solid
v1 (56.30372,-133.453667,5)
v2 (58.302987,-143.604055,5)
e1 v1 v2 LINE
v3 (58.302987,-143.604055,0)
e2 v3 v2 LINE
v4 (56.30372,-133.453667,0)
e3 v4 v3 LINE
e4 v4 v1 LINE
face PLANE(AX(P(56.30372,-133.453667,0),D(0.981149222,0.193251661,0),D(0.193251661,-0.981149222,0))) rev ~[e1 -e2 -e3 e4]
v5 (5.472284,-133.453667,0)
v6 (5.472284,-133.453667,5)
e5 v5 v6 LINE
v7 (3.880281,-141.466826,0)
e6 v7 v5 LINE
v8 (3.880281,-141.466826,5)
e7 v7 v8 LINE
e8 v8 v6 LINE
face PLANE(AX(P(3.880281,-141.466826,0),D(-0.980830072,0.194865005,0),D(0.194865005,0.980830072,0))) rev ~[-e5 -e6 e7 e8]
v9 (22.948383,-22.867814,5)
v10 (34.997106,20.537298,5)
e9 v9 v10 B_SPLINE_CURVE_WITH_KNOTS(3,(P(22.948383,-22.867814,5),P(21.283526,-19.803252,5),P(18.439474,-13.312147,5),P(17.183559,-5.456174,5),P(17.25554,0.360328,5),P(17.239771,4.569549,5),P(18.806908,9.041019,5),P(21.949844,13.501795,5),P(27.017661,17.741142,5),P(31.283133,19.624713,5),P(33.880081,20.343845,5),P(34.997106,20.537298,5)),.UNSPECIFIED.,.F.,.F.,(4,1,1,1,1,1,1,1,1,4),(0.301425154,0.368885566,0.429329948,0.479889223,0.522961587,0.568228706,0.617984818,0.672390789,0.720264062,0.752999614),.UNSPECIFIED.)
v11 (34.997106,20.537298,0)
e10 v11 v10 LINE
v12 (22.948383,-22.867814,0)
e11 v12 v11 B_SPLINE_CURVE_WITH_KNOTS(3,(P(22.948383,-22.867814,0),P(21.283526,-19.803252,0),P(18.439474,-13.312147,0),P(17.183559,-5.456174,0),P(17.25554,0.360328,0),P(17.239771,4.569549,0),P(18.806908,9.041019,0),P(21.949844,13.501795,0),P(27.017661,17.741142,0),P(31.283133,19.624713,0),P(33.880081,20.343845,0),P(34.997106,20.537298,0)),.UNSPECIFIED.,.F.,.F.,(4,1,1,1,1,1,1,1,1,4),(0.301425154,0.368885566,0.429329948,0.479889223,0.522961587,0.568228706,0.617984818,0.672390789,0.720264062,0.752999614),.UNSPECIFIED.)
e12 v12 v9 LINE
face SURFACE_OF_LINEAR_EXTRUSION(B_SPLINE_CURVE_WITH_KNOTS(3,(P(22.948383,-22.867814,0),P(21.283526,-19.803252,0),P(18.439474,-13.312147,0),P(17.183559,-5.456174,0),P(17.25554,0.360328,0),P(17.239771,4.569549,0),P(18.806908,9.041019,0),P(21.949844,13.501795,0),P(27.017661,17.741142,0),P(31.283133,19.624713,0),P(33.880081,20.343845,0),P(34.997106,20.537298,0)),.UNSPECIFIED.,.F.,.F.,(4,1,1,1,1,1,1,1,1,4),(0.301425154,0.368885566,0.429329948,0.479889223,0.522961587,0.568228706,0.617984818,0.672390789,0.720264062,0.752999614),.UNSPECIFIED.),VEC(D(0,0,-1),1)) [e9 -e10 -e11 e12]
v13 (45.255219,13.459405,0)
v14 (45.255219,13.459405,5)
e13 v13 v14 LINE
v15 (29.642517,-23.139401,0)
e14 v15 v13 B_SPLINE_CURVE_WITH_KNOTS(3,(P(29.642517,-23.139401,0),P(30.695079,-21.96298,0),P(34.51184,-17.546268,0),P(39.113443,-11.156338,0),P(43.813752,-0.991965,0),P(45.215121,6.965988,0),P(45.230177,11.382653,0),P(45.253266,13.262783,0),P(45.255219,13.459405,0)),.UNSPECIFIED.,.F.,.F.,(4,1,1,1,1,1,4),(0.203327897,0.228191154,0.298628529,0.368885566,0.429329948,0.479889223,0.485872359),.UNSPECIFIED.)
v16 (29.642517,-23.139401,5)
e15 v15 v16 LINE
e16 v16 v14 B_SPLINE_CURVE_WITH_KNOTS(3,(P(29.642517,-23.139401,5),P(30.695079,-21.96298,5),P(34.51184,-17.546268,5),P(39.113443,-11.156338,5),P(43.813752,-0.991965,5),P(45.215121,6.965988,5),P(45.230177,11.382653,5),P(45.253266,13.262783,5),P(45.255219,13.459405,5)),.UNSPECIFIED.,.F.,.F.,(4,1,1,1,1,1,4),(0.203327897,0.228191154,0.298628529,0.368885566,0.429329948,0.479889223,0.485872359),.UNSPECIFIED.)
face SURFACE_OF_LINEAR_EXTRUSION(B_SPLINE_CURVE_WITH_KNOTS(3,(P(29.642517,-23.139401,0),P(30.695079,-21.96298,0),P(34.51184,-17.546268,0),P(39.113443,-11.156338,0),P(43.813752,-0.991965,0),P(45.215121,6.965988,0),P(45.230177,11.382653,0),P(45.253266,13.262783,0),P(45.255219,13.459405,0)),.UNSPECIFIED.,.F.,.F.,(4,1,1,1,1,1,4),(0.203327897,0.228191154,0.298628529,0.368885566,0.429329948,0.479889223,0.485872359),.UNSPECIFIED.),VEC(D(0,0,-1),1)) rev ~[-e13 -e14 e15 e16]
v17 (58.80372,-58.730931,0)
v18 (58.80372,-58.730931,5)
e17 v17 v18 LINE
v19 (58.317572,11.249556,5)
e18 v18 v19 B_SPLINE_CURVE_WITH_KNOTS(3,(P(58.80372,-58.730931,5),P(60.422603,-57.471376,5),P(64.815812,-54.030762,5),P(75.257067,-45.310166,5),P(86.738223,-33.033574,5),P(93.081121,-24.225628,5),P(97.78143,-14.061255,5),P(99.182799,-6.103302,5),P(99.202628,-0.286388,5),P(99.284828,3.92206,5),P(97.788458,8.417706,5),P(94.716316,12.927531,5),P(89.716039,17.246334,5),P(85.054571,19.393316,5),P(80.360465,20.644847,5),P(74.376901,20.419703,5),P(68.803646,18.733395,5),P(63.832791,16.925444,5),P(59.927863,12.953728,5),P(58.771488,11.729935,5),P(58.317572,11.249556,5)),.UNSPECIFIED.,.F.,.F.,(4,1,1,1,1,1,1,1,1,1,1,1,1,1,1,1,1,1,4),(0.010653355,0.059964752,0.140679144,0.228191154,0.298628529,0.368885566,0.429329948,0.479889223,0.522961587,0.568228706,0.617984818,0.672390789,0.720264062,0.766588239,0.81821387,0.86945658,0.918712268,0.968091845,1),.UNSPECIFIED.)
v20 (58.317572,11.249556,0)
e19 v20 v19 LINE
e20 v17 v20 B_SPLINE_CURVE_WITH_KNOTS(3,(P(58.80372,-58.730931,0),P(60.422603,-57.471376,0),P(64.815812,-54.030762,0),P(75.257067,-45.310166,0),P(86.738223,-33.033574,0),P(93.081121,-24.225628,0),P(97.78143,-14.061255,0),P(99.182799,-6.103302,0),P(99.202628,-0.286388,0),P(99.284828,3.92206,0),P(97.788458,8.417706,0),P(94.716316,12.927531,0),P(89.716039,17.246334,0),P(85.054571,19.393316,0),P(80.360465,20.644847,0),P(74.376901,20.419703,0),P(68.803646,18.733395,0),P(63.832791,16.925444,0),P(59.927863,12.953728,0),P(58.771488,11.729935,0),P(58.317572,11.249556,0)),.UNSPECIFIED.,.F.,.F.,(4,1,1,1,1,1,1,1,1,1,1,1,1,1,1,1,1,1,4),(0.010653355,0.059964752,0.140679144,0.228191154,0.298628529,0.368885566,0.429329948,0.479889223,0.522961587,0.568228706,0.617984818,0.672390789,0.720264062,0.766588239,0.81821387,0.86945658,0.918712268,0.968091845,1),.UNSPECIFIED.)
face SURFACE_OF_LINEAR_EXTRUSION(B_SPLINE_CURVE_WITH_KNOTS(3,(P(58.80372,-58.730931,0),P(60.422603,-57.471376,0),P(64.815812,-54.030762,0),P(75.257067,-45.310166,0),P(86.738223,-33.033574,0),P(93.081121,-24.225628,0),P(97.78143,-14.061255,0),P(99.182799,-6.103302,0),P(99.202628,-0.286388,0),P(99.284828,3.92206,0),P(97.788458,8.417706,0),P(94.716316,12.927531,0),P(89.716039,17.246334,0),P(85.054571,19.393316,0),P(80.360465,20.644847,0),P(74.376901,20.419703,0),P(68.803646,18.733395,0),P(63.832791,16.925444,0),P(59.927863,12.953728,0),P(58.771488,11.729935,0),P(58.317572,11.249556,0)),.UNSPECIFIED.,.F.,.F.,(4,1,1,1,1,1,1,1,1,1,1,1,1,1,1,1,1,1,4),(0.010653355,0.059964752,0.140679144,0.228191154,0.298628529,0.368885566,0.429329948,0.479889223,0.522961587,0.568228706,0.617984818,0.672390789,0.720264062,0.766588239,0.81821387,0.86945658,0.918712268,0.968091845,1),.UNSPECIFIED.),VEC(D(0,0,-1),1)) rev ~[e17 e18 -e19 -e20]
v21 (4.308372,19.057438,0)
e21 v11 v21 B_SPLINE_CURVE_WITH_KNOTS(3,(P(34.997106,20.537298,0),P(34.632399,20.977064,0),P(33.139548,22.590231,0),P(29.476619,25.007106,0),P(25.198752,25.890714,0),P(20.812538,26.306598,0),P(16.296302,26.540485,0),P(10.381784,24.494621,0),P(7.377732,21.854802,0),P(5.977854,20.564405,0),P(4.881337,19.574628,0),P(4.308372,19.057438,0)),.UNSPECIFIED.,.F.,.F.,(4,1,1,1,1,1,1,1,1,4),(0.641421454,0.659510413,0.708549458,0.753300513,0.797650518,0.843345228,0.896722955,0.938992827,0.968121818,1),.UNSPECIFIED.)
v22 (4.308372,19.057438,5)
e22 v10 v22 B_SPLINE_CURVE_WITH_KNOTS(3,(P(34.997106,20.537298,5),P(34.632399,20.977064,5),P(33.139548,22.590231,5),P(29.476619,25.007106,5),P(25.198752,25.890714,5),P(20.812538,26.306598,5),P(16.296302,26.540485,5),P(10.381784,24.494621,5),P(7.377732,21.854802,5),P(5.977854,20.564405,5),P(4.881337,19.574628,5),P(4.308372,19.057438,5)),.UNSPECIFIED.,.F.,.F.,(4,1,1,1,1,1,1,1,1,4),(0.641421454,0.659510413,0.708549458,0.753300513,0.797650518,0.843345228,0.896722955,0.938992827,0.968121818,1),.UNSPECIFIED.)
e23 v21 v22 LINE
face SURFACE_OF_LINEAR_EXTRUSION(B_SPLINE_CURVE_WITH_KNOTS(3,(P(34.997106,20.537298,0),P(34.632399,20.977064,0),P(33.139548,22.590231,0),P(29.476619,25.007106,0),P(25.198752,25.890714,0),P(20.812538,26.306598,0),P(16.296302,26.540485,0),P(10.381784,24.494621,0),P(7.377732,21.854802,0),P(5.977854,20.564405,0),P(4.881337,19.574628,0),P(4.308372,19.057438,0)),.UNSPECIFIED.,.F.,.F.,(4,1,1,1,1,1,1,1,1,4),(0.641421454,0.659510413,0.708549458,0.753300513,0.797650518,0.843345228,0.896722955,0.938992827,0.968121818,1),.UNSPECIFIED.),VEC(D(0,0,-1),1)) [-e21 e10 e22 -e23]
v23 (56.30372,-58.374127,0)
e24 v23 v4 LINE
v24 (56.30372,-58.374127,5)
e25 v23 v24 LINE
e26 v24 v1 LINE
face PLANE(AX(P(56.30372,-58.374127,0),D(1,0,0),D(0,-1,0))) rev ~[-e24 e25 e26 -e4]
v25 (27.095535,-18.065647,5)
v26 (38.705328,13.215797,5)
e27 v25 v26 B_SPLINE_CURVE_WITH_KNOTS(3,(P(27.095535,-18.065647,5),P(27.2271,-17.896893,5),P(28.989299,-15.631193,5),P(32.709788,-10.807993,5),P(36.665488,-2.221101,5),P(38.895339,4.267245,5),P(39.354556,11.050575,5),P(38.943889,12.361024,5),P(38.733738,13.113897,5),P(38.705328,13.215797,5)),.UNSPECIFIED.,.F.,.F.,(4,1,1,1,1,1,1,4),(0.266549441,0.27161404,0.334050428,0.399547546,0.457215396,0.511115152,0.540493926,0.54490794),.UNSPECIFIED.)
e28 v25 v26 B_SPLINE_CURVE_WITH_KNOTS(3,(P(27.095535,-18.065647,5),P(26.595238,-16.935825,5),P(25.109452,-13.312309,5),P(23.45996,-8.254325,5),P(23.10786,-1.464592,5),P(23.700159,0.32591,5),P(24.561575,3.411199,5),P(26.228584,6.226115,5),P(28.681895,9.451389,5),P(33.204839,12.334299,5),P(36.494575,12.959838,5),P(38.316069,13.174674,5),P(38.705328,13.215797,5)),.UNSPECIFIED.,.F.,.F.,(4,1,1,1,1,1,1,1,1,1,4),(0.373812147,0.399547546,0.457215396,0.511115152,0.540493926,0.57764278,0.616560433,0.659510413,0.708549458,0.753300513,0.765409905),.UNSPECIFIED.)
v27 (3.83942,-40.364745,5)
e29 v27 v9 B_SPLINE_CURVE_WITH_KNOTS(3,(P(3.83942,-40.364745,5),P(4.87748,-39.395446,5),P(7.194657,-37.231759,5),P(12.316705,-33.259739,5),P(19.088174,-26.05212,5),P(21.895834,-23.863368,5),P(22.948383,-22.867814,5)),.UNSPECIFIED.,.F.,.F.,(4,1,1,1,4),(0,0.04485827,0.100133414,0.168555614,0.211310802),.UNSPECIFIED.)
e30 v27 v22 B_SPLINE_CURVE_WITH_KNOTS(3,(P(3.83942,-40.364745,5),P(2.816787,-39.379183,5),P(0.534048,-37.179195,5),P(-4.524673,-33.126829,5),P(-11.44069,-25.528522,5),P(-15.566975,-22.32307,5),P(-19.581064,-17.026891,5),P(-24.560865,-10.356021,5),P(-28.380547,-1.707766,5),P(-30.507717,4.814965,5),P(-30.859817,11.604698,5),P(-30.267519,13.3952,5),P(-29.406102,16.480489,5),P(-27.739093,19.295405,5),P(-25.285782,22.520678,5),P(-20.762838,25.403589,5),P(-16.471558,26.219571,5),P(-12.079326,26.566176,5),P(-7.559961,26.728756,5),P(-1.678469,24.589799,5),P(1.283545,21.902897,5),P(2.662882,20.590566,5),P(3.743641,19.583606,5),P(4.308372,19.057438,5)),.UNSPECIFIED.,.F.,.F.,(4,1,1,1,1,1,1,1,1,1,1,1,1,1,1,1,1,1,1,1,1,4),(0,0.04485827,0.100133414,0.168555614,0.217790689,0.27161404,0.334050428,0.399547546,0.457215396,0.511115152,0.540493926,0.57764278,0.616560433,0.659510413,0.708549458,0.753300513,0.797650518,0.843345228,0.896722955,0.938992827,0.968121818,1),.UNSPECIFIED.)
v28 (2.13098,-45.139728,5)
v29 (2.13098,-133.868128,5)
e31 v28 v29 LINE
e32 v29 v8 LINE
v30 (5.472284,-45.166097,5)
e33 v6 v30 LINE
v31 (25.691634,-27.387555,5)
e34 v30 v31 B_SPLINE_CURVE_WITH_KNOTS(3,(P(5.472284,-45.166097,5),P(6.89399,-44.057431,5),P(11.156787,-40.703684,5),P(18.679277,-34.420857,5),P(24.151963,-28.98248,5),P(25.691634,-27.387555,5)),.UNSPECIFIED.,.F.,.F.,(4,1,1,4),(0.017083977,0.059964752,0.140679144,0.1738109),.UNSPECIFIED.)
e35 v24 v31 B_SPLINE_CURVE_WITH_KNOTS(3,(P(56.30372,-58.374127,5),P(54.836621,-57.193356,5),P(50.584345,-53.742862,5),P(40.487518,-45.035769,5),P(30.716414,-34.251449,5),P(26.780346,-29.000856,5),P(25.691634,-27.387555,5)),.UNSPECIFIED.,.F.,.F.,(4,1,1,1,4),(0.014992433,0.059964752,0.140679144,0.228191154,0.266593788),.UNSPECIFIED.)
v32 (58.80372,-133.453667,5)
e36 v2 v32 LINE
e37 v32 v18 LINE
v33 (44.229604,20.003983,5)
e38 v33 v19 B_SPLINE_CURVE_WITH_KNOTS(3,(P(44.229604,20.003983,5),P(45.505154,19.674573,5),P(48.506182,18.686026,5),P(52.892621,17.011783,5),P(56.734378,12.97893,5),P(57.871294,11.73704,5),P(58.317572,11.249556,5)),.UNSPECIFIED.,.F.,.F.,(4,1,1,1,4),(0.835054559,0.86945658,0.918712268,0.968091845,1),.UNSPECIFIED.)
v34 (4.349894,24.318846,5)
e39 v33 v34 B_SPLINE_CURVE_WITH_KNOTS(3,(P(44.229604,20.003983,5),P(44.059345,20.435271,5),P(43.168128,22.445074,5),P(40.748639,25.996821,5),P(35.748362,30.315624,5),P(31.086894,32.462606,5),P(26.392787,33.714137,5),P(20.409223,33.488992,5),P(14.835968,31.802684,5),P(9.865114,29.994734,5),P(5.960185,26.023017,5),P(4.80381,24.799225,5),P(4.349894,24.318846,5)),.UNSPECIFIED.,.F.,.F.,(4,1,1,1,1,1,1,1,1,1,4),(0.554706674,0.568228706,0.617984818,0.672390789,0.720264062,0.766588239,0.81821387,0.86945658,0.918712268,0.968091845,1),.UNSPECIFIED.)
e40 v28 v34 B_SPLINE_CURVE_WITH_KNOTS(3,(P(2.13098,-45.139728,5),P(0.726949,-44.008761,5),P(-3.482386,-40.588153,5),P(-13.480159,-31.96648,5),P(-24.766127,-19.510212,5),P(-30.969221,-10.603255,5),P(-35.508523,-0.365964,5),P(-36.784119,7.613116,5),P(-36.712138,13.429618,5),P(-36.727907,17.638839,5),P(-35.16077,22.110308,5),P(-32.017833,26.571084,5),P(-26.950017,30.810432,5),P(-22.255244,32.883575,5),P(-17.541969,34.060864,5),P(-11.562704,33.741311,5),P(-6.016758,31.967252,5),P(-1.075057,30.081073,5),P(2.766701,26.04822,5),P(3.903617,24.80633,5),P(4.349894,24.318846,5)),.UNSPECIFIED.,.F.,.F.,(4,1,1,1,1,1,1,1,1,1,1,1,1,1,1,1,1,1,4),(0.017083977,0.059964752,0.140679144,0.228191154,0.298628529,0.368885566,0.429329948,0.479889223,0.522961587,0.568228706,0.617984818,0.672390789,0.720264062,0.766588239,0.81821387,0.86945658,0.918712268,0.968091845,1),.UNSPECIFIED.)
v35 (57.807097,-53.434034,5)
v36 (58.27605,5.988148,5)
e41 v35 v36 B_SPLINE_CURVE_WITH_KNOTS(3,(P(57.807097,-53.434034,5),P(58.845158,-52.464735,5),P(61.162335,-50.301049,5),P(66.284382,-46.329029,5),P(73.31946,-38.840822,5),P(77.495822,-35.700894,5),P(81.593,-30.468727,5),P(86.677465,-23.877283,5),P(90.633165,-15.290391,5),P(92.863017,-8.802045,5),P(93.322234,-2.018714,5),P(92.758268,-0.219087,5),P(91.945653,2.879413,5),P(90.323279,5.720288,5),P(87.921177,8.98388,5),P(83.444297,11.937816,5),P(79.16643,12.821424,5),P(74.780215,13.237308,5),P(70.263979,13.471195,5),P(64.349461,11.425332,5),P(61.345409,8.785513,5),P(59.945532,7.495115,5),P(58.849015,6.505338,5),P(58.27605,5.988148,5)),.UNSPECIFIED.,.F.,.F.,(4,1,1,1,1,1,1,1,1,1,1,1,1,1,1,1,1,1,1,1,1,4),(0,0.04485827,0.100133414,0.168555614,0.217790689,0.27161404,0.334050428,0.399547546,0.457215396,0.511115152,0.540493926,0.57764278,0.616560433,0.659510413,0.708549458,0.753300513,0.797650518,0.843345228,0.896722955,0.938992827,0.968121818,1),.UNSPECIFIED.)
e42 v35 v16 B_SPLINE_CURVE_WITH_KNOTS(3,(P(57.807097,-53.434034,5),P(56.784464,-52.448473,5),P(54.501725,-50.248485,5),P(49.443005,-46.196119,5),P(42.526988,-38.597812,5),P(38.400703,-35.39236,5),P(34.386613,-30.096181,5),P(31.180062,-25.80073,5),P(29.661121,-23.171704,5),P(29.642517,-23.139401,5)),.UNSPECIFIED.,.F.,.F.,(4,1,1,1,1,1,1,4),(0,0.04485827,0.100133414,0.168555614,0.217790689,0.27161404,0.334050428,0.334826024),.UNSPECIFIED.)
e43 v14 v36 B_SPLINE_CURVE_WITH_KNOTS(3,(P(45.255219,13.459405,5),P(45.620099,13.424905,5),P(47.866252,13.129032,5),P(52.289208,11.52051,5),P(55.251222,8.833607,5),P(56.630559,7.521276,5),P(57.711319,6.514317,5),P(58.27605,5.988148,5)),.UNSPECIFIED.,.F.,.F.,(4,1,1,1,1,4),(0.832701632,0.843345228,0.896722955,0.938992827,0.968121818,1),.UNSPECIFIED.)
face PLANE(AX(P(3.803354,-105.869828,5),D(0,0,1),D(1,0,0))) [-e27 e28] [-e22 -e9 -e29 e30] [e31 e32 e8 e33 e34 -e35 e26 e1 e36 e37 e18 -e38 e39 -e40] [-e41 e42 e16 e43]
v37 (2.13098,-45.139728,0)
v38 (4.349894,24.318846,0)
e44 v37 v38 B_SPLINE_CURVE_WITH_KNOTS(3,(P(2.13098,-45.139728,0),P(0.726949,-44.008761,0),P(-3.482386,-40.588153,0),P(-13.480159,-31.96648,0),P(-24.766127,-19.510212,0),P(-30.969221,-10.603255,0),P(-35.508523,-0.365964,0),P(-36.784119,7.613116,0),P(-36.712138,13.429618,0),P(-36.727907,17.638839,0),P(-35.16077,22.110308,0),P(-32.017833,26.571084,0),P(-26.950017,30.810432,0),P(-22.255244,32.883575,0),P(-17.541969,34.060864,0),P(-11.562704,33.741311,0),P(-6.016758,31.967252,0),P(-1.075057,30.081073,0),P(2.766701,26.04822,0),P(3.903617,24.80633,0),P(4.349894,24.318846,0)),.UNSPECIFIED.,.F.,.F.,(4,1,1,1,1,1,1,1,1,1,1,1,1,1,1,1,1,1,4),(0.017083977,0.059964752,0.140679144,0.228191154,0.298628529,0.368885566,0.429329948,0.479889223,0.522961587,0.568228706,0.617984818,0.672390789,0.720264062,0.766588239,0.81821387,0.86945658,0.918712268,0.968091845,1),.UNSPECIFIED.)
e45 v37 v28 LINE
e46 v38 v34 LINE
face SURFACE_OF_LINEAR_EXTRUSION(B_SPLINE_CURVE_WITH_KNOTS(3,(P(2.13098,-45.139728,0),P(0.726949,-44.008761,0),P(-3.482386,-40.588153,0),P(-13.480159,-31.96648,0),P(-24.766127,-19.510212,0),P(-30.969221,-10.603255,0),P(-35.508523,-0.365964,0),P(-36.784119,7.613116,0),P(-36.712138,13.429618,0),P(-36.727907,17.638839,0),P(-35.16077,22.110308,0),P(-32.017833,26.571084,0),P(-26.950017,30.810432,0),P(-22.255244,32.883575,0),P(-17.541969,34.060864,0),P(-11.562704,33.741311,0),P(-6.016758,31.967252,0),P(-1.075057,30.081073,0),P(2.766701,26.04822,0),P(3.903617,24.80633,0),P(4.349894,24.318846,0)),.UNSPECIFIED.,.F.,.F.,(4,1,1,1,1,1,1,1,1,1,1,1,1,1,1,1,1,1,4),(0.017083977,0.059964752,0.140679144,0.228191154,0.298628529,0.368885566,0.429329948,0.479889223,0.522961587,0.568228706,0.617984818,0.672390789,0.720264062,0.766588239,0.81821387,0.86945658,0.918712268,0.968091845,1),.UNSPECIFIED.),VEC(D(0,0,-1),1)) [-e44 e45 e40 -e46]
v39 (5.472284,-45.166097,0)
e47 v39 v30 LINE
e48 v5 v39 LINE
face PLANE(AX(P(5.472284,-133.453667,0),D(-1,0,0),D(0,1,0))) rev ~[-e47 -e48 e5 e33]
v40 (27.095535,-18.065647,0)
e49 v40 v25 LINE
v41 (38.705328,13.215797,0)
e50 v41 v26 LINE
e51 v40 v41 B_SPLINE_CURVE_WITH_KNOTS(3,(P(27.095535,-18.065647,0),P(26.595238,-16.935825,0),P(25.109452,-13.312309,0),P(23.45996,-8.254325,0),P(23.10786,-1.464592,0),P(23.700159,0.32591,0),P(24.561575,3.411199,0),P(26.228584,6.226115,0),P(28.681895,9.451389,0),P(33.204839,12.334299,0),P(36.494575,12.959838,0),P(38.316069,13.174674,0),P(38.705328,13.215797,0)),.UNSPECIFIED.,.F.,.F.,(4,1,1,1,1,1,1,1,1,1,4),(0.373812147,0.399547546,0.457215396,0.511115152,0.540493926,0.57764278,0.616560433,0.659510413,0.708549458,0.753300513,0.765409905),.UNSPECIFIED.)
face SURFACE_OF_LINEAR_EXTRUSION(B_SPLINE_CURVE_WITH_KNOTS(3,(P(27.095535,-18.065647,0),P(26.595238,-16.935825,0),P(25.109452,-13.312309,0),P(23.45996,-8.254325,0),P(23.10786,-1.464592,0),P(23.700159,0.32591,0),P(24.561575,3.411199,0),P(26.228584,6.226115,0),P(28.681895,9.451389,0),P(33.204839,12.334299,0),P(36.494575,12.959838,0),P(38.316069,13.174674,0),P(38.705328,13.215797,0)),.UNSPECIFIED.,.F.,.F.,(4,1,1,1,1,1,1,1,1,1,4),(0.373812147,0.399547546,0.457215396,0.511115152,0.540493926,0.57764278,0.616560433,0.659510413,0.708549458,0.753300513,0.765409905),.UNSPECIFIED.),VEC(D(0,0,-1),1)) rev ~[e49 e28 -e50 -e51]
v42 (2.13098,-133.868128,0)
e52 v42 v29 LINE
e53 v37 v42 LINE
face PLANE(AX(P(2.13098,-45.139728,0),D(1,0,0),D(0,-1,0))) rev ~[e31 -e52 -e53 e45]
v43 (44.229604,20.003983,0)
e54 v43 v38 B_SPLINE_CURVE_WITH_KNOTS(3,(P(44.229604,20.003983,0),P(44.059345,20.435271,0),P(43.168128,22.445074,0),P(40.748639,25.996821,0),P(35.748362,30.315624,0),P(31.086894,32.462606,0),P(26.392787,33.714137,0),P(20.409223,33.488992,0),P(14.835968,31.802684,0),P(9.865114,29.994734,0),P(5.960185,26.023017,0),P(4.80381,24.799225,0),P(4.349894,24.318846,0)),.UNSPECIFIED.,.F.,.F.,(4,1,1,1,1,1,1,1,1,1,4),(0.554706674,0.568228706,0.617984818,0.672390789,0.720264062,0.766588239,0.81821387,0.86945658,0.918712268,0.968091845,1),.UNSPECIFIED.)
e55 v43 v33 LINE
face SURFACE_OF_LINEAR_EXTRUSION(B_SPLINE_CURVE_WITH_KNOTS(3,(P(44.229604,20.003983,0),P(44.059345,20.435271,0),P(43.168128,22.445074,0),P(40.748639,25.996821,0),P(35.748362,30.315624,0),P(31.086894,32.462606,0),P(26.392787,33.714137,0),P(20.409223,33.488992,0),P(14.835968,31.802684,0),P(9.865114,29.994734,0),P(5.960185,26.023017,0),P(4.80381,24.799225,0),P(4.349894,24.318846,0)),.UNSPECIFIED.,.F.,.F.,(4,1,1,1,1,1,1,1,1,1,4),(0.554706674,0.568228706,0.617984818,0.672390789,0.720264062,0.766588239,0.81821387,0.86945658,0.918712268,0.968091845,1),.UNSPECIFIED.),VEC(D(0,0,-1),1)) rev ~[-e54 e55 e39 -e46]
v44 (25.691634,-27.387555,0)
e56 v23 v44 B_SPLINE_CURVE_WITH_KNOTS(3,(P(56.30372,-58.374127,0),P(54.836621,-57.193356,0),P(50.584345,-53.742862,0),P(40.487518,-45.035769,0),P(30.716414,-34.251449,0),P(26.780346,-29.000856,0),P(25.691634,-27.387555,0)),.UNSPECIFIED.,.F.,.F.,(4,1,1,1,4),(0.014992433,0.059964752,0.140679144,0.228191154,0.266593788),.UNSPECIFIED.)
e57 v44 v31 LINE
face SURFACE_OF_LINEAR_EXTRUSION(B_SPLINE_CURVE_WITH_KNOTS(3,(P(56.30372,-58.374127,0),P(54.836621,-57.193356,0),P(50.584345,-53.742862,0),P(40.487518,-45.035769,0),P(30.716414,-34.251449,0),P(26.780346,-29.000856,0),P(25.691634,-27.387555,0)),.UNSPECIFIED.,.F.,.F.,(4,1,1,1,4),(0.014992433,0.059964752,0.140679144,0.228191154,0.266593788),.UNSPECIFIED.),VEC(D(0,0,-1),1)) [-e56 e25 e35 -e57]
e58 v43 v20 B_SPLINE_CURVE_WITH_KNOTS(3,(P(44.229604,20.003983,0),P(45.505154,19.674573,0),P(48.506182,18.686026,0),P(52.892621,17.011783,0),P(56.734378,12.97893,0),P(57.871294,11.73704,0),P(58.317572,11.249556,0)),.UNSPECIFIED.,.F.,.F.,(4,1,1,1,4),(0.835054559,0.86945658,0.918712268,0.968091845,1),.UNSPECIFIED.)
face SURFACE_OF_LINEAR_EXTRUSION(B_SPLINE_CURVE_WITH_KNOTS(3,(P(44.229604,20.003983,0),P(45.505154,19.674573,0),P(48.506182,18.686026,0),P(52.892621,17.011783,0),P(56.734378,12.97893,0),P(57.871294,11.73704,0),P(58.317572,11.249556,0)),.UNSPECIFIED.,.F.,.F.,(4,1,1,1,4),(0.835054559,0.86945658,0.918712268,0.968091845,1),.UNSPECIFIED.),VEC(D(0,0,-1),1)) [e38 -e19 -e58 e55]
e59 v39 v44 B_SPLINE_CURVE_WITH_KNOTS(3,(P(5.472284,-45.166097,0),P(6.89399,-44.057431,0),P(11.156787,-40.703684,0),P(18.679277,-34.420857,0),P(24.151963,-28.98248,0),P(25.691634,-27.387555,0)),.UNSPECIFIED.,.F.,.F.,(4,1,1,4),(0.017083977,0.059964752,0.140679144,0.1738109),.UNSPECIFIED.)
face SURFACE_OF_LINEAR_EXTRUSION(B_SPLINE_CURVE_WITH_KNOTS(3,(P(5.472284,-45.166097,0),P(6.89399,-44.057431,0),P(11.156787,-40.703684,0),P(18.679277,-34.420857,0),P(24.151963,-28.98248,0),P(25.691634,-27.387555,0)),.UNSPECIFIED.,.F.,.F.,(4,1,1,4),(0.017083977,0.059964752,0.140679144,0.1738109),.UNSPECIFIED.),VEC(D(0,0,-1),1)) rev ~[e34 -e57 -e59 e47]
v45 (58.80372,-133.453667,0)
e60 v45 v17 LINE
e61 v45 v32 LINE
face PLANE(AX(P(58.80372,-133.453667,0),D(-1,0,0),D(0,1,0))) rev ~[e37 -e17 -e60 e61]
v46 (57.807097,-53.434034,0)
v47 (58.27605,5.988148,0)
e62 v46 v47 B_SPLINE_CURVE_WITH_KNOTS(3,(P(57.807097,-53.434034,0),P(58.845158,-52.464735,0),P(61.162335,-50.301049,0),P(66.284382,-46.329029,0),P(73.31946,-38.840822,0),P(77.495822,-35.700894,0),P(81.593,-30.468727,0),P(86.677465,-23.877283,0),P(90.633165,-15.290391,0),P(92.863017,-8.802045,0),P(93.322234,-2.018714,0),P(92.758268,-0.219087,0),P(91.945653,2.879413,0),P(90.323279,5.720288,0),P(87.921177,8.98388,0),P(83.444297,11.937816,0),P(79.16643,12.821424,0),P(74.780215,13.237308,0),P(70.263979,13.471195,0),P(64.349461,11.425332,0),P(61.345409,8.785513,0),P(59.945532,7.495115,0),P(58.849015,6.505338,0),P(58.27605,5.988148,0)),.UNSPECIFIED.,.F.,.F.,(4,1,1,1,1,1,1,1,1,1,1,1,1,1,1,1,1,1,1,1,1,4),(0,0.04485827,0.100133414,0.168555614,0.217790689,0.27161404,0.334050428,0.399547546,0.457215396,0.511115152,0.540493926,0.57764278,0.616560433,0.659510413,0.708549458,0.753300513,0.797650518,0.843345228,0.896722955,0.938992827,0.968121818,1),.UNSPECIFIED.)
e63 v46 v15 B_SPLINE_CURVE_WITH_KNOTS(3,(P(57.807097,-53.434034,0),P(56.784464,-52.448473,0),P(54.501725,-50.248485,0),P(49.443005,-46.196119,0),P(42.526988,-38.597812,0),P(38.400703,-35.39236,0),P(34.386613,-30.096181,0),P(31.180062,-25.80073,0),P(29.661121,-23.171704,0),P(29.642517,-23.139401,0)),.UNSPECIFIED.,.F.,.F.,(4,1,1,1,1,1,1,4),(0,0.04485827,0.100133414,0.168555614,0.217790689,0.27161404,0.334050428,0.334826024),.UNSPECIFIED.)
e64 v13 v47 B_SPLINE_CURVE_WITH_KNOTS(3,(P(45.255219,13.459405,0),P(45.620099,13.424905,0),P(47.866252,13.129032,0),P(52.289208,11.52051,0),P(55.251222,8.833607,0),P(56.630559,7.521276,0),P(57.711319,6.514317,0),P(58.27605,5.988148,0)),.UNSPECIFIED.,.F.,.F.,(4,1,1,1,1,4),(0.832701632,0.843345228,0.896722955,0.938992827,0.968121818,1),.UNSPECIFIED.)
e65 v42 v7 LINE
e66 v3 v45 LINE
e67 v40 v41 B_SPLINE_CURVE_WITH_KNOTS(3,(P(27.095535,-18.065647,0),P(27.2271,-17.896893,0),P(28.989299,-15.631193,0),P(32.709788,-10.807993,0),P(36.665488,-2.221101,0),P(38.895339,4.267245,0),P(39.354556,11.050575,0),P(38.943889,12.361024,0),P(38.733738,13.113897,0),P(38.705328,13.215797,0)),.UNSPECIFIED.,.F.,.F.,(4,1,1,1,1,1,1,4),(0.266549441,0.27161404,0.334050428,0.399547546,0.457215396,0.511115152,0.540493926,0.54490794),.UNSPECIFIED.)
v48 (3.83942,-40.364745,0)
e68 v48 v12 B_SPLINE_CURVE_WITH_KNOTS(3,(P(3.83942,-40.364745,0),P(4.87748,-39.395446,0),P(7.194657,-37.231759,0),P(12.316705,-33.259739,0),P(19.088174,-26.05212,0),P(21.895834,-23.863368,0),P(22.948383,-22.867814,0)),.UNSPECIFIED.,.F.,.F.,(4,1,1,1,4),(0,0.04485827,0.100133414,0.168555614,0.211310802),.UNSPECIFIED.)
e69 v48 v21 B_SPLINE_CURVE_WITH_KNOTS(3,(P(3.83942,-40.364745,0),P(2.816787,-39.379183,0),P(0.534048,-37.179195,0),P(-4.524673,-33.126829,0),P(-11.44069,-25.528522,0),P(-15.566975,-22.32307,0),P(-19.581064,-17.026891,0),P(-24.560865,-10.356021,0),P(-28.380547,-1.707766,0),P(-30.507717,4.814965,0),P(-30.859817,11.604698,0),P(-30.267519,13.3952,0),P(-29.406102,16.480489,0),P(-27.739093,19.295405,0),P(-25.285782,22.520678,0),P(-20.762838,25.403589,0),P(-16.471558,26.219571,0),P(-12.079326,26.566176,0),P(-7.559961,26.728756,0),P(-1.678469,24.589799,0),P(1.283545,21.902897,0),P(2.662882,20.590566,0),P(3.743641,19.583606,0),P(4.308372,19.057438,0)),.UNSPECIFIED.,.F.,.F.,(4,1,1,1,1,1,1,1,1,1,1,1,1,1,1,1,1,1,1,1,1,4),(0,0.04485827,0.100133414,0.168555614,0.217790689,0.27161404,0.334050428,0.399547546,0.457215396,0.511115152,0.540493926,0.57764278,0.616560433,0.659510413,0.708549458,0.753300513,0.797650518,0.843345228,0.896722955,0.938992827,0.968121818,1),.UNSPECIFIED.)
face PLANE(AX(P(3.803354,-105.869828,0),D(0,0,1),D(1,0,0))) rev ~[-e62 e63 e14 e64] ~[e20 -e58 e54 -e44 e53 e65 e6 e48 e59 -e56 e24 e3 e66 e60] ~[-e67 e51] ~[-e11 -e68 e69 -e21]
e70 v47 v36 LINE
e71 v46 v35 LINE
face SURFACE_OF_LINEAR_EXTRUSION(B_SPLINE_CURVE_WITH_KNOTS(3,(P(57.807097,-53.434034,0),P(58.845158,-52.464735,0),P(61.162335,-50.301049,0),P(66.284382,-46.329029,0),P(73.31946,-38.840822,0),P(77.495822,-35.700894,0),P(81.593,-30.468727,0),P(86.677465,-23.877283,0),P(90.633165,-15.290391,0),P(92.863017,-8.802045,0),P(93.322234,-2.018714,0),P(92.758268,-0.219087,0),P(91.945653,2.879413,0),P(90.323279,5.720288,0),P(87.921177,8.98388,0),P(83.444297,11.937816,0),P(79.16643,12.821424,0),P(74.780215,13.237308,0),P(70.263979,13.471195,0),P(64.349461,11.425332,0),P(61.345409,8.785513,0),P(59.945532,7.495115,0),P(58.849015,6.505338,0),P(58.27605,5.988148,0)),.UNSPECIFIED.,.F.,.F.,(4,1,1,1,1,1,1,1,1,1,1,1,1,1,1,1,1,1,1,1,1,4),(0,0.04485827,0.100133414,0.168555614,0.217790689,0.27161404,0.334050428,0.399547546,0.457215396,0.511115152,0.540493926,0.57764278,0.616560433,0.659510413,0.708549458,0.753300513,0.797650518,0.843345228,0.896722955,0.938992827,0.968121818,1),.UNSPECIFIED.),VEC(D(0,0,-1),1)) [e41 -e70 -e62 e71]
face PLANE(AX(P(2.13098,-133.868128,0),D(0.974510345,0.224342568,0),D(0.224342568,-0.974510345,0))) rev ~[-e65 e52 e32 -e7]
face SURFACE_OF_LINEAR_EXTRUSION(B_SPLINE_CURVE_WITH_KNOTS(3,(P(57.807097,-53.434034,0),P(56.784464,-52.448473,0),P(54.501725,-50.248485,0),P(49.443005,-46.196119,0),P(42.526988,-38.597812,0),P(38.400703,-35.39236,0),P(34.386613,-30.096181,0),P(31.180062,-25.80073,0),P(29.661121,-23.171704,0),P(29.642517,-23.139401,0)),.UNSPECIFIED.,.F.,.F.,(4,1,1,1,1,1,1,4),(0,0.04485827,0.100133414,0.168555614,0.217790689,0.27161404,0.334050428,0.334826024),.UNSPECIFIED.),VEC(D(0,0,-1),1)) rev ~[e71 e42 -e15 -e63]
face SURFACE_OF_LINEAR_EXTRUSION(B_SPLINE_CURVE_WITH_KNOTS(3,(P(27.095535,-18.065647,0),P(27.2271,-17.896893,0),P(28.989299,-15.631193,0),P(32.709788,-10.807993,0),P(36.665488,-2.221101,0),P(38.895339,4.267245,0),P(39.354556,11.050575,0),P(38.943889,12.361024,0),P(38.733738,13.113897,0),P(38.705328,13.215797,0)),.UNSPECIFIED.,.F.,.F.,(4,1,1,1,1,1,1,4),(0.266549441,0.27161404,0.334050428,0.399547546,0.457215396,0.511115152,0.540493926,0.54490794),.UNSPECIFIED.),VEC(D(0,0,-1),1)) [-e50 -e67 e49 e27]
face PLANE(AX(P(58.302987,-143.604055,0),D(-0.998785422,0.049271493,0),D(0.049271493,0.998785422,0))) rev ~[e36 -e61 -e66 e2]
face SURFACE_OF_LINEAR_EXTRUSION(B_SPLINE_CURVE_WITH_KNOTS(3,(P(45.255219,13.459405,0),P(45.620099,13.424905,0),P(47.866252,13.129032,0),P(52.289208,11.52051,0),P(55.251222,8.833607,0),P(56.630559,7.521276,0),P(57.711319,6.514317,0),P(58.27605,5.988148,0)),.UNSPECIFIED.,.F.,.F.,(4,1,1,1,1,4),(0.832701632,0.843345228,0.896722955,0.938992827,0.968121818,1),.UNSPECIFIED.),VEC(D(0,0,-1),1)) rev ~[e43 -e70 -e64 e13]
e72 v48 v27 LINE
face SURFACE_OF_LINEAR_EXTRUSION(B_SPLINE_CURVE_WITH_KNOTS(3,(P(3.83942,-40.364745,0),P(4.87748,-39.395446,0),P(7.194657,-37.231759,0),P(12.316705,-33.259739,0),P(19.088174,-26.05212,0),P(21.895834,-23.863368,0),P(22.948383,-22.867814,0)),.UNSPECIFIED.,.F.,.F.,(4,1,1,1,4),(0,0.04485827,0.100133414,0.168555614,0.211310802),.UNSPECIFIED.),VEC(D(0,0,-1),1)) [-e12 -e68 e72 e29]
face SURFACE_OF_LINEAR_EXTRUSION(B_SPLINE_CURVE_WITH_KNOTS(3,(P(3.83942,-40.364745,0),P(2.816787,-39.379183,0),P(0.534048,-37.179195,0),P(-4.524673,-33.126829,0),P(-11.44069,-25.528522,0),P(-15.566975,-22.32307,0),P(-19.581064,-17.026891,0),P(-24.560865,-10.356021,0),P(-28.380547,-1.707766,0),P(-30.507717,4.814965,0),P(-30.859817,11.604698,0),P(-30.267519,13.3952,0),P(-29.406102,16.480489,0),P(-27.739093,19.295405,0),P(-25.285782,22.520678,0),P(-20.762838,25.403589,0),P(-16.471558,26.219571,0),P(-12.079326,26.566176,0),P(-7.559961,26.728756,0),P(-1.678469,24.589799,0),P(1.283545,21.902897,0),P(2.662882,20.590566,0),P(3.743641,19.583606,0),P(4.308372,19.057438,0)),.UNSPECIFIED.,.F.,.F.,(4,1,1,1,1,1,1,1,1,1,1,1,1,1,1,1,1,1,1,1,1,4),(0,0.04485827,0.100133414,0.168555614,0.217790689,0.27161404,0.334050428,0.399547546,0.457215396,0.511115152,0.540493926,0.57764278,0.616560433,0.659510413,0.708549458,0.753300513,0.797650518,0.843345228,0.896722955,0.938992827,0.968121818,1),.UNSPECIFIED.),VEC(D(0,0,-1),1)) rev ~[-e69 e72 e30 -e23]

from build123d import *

# Parameters (mm, degrees)
F1_DEPTH = 5


with BuildPart() as f1:
    # F0 (on Top) → F1 (new body)
    with BuildSketch(Plane.XY):
        Polygon((5.4722838547, -71.7465581899), (2.1309804769, -71.7465581899), (2.1309804769, -133.8681280613), (3.8802810013, -141.4668262005), (5.4722838547, -133.4536671638), align=None)
        Polygon((58.8037203075, -133.4536671638), (58.8037203075, -71.7465581899), (56.3037203075, -71.7465581899), (56.3037203075, -133.4536671638), (58.3029873669, -143.604055047), align=None)
        with BuildLine():
            Line((58.8037203075, -71.7465581899), (58.8037203075, -58.730931346))
            add(Edge.make_bspline(
                [(57.7588856984, -59.5430574281), (58.1064293653, -59.2730531087), (58.4539730323, -59.0030487893), (58.8037203075, -58.730931346)],
                knots=[0, 0, 0, 0, 0.0106533547, 0.0106533547, 0.0106533547, 0.0106533547], degree=3))
            add(Edge.make_bspline(
                [(57.7588856984, -59.5430574281), (57.2758465758, -59.1554092192), (56.7928074532, -58.7677610103), (56.3037203075, -58.3741270511)],
                knots=[0, 0, 0, 0, 0.0149924327, 0.0149924327, 0.0149924327, 0.0149924327], degree=3))
            Line((56.3037203075, -58.3741270511), (56.3037203075, -71.7465581899))
            Line((56.3037203075, -71.7465581899), (58.8037203075, -71.7465581899))
        make_face()
        with BuildLine():
            add(Edge.make_bspline(
                [(3.7912081461, -46.4737676084), (3.2407818512, -46.0320398945), (2.6903555563, -45.5903121806), (2.1309804769, -45.1397278225)],
                knots=[0, 0, 0, 0, 0.0170839769, 0.0170839769, 0.0170839769, 0.0170839769], degree=3))
            Line((2.1309804769, -45.1397278225), (2.1309804769, -71.7465581899))
            Line((2.1309804769, -71.7465581899), (5.4722838547, -71.7465581899))
            Line((5.4722838547, -71.7465581899), (5.4722838547, -45.1660969594))
            add(Edge.make_bspline(
                [(3.7912081461, -46.4737676084), (4.3485375649, -46.0407821602), (4.9058669837, -45.6077967121), (5.4722838547, -45.1660969594)],
                knots=[0, 0, 0, 0, 0.0170839769, 0.0170839769, 0.0170839769, 0.0170839769], degree=3))
        make_face()
        with BuildLine():
            add(Edge.make_bspline(
                [(44.2296044758, 20.0039827247), (45.5051535197, 19.6745725826), (48.5061823296, 18.6860255935), (52.8926205844, 17.0117827629), (56.7343780798, 12.9789301434), (57.8712942589, 11.7370396886), (58.3175719082, 11.249556123)],
                knots=[0.835054559, 0.835054559, 0.835054559, 0.835054559, 0.8694565801, 0.9187122678, 0.9680918447, 1, 1, 1, 1], degree=3))
            add(Edge.make_bspline(
                [(45.2552187391, 13.459405063), (45.2673218368, 14.6782574348), (45.2547817637, 16.7743630859), (44.6293153805, 18.9914669168), (44.2296044745, 20.0039827228)],
                knots=[0.4858723592, 0.4858723592, 0.4858723592, 0.4858723592, 0.5229615868, 0.5547066737, 0.5547066737, 0.5547066737, 0.5547066737], degree=3))
            add(Edge.make_bspline(
                [(45.2552187391, 13.459405063), (45.620098505, 13.4249051224), (47.8662521396, 13.1290317491), (52.2892081757, 11.5205095433), (55.2512222937, 8.8336070843), (56.6305591779, 7.521276306), (57.7113185317, 6.5143165351), (58.2760495524, 5.9881481358)],
                knots=[0.8327016325, 0.8327016325, 0.8327016325, 0.8327016325, 0.8433452284, 0.8967229546, 0.9389928273, 0.9681218184, 1, 1, 1, 1], degree=3))
            add(Edge.make_bspline(
                [(57.8070973225, -53.4340344875), (58.8451578136, -52.464735458), (61.1623345824, -50.3010492254), (66.2843821397, -46.3290287789), (73.3194602398, -38.840822382), (77.4958223004, -35.7008938885), (81.5929997715, -30.4687274942), (86.6774653327, -23.8772830801), (90.6331651451, -15.2903911208), (92.8630169678, -8.8020450937), (93.322233698, -2.0187144773), (92.7582682041, -0.2190872319), (91.9456530656, 2.8794129951), (90.3232788716, 5.7202880791), (87.9211773972, 8.9838798508), (83.4442969102, 11.9378160574), (79.1664297235, 12.8214240598), (74.7802152738, 13.2373078778), (70.2639793047, 13.4711954881), (64.3494611676, 11.4253315764), (61.345409248, 8.7855125439), (59.9455319661, 7.4951149667), (58.8490146223, 6.5053379837), (58.2760495524, 5.9881481358)],
                knots=[0, 0, 0, 0, 0.04485827, 0.1001334143, 0.1685556142, 0.2177906886, 0.2716140402, 0.334050428, 0.3995475458, 0.4572153958, 0.5111151521, 0.5404939261, 0.5776427802, 0.616560433, 0.6595104131, 0.7085494581, 0.7533005133, 0.7976505181, 0.8433452284, 0.8967229546, 0.9389928273, 0.9681218184, 1, 1, 1, 1], degree=3))
            add(Edge.make_bspline(
                [(57.8070973225, -53.4340344875), (56.7844643415, -52.4484727299), (54.5017251304, -50.2484845515), (49.4430049979, -46.1961187945), (42.5269877203, -38.5978121455), (38.4007025866, -35.3923602271), (34.3866134682, -30.0961807592), (31.1800621564, -25.8007304749), (29.6611214635, -23.1717035057), (29.6425165985, -23.1394005666)],
                knots=[0, 0, 0, 0, 0.04485827, 0.1001334143, 0.1685556142, 0.2177906886, 0.2716140402, 0.334050428, 0.3348260239, 0.3348260239, 0.3348260239, 0.3348260239], degree=3))
            add(Edge.make_bspline(
                [(25.6916337465, -27.3875553909), (27.0633223993, -25.9666412968), (28.3929430611, -24.5360156378), (29.6425165985, -23.1394005666)],
                knots=[0.1738108998, 0.1738108998, 0.1738108998, 0.1738108998, 0.203327897, 0.203327897, 0.203327897, 0.203327897], degree=3))
            add(Edge.make_bspline(
                [(56.3037203075, -58.3741270511), (54.836621305, -57.1933559067), (50.5843447149, -53.7428621448), (40.4875181362, -45.0357694348), (30.7164141669, -34.2514491013), (26.7803458552, -29.000856134), (25.6916337465, -27.3875553909)],
                knots=[0.0149924327, 0.0149924327, 0.0149924327, 0.0149924327, 0.0599647517, 0.1406791438, 0.2281911542, 0.2665937884, 0.2665937884, 0.2665937884, 0.2665937884], degree=3))
            add(Edge.make_bspline(
                [(57.7588856984, -59.5430574281), (57.2758465758, -59.1554092192), (56.7928074532, -58.7677610103), (56.3037203075, -58.3741270511)],
                knots=[0, 0, 0, 0, 0.0149924327, 0.0149924327, 0.0149924327, 0.0149924327], degree=3))
            add(Edge.make_bspline(
                [(57.7588856984, -59.5430574281), (58.1064293653, -59.2730531087), (58.4539730323, -59.0030487893), (58.8037203075, -58.730931346)],
                knots=[0, 0, 0, 0, 0.0106533547, 0.0106533547, 0.0106533547, 0.0106533547], degree=3))
            add(Edge.make_bspline(
                [(58.8037203075, -58.730931346), (60.4226025517, -57.4713758651), (64.8158115439, -54.0307624317), (75.2570670617, -45.3101662473), (86.7382230504, -33.0335736275), (93.0811210502, -24.2256277539), (97.7814297902, -14.0612551174), (99.1827990047, -6.103301673), (99.2026277083, -0.2863876833), (99.2848276869, 3.9220603727), (97.7884580281, 8.4177062722), (94.7163162194, 12.9275309763), (89.7160393756, 17.2463342248), (85.0545714877, 19.3933161718), (80.3604646993, 20.6448467553), (74.3769007108, 20.4197025563), (68.8036458987, 18.7333946469), (63.8327913648, 16.9254443408), (59.9278628363, 12.953727572), (58.7714878073, 11.7299354768), (58.3175719082, 11.249556123)],
                knots=[0.0106533547, 0.0106533547, 0.0106533547, 0.0106533547, 0.0599647517, 0.1406791438, 0.2281911542, 0.2986285287, 0.3688855659, 0.4293299476, 0.4798892229, 0.5229615868, 0.5682287059, 0.6179848179, 0.6723907892, 0.7202640622, 0.7665882394, 0.8182138704, 0.8694565801, 0.9187122678, 0.9680918447, 1, 1, 1, 1], degree=3))
        make_face()
        with BuildLine():
            add(Edge.make_bspline(
                [(3.8394197702, -40.3647446679), (4.8774802614, -39.3954456384), (7.1946570302, -37.2317594058), (12.3167045875, -33.2597389593), (19.0881738711, -26.0521203821), (21.8958341797, -23.8633676791), (22.9483827949, -22.8678137803)],
                knots=[0, 0, 0, 0, 0.04485827, 0.1001334143, 0.1685556142, 0.2113108017, 0.2113108017, 0.2113108017, 0.2113108017], degree=3))
            Line((3.8394197702, -40.3647446679), (3.8016321658, -45.152912391))
            Line((3.8016321658, -45.152912391), (5.4722838547, -45.1660969594))
            add(Edge.make_bspline(
                [(5.4722838547, -45.1660969594), (6.8939899628, -44.0574307659), (11.1567873371, -40.7036835769), (18.6792770009, -34.4208572876), (24.1519631157, -28.9824797895), (25.6916337465, -27.3875553909)],
                knots=[0.0170839769, 0.0170839769, 0.0170839769, 0.0170839769, 0.0599647517, 0.1406791438, 0.1738108998, 0.1738108998, 0.1738108998, 0.1738108998], degree=3))
            add(Edge.make_bspline(
                [(25.6916337465, -27.3875553909), (24.7834510024, -26.0417708773), (23.880532614, -24.5694768407), (23.0174007461, -22.9948576263), (22.9483827949, -22.8678137803)],
                knots=[0.2665937884, 0.2665937884, 0.2665937884, 0.2665937884, 0.2986285287, 0.3014251536, 0.3014251536, 0.3014251536, 0.3014251536], degree=3))
        make_face()
        with BuildLine():
            Line((4.3083720002, 19.0574379554), (4.349894356, 24.3188459426))
            add(Edge.make_bspline(
                [(2.1309804769, -45.1397278225), (0.7269492626, -44.0087612731), (-3.4823857696, -40.5881531037), (-13.480159416, -31.9664796152), (-24.766126848, -19.5102117827), (-30.9692211088, -10.6032545502), (-35.5085225451, -0.3659640974), (-36.7841187417, 7.613115614), (-36.7121380179, 13.4296180267), (-36.7279068322, 17.6388392398), (-35.160769854, 22.1103083386), (-32.0178332164, 26.5710844421), (-26.9500165493, 30.8104315903), (-22.2552439721, 32.8835752898), (-17.5419692537, 34.0608640271), (-11.5627039479, 33.7413107165), (-6.0167579086, 31.9672515028), (-1.0750569678, 30.0810725825), (2.7667005276, 26.048219963), (3.9036167067, 24.8063295083), (4.349894356, 24.3188459426)],
                knots=[0.0170839769, 0.0170839769, 0.0170839769, 0.0170839769, 0.0599647517, 0.1406791438, 0.2281911542, 0.2986285287, 0.3688855659, 0.4293299476, 0.4798892229, 0.5229615868, 0.5682287059, 0.6179848179, 0.6723907892, 0.7202640622, 0.7665882394, 0.8182138704, 0.8694565801, 0.9187122678, 0.9680918447, 1, 1, 1, 1], degree=3))
            Line((2.1309804769, -45.1397278225), (3.8016321658, -45.152912391))
            Line((3.8016321658, -45.152912391), (3.8394197702, -40.3647446679))
            add(Edge.make_bspline(
                [(3.8394197702, -40.3647446679), (2.8167867892, -39.3791829103), (0.5340475781, -37.1791947318), (-4.5246725543, -33.1268289749), (-11.440689832, -25.5285223258), (-15.5669749656, -22.3230704075), (-19.581064084, -17.0268909395), (-24.5608651615, -10.3560206263), (-28.3805474144, -1.7077663508), (-30.5077174883, 4.8149647333), (-30.8598173411, 11.6046981559), (-30.2675190073, 13.3952003158), (-29.4061021989, 16.4804892977), (-27.7390932309, 19.2954049924), (-25.2857824656, 22.5206784747), (-20.7628383324, 25.4035892217), (-16.4715582046, 26.2195706147), (-12.0793262876, 26.5661760619), (-7.5599614486, 26.7287558716), (-1.6784693765, 24.589799363), (1.2835447415, 21.9028969039), (2.6628816256, 20.5905661257), (3.7436409795, 19.5836063547), (4.3083720002, 19.0574379554)],
                knots=[0, 0, 0, 0, 0.04485827, 0.1001334143, 0.1685556142, 0.2177906886, 0.2716140402, 0.334050428, 0.3995475458, 0.4572153958, 0.5111151521, 0.5404939261, 0.5776427802, 0.616560433, 0.6595104131, 0.7085494581, 0.7533005133, 0.7976505181, 0.8433452284, 0.8967229546, 0.9389928273, 0.9681218184, 1, 1, 1, 1], degree=3))
        make_face()
        with BuildLine():
            Line((3.8016321658, -45.152912391), (2.1309804769, -45.1397278225))
            add(Edge.make_bspline(
                [(3.7912081461, -46.4737676084), (3.2407818512, -46.0320398945), (2.6903555563, -45.5903121806), (2.1309804769, -45.1397278225)],
                knots=[0, 0, 0, 0, 0.0170839769, 0.0170839769, 0.0170839769, 0.0170839769], degree=3))
            Line((3.7912081461, -46.4737676084), (3.8016321658, -45.152912391))
        make_face()
        with BuildLine():
            Line((3.8016321658, -45.152912391), (3.7912081461, -46.4737676084))
            add(Edge.make_bspline(
                [(3.7912081461, -46.4737676084), (4.3485375649, -46.0407821602), (4.9058669837, -45.6077967121), (5.4722838547, -45.1660969594)],
                knots=[0, 0, 0, 0, 0.0170839769, 0.0170839769, 0.0170839769, 0.0170839769], degree=3))
            Line((5.4722838547, -45.1660969594), (3.8016321658, -45.152912391))
        make_face()
        with BuildLine():
            add(Edge.make_bspline(
                [(22.9483827949, -22.8678137803), (23.1079048633, -22.716929712), (24.4624482836, -21.4005772986), (25.8289063278, -19.6903083212), (27.0955348726, -18.0656470238)],
                knots=[0.2113108017, 0.2113108017, 0.2113108017, 0.2113108017, 0.2177906886, 0.2665494405, 0.2665494405, 0.2665494405, 0.2665494405], degree=3))
            add(Edge.make_bspline(
                [(25.6916337465, -27.3875553909), (24.7834510024, -26.0417708773), (23.880532614, -24.5694768407), (23.0174007461, -22.9948576263), (22.9483827949, -22.8678137803)],
                knots=[0.2665937884, 0.2665937884, 0.2665937884, 0.2665937884, 0.2986285287, 0.3014251536, 0.3014251536, 0.3014251536, 0.3014251536], degree=3))
            add(Edge.make_bspline(
                [(25.6916337465, -27.3875553909), (27.0633223993, -25.9666412968), (28.3929430611, -24.5360156378), (29.6425165985, -23.1394005666)],
                knots=[0.1738108998, 0.1738108998, 0.1738108998, 0.1738108998, 0.203327897, 0.203327897, 0.203327897, 0.203327897], degree=3))
            add(Edge.make_bspline(
                [(29.6425165985, -23.1394005666), (28.7073240523, -21.5156603369), (27.8534269314, -19.7771956323), (27.0955348726, -18.0656470238)],
                knots=[0.3348260239, 0.3348260239, 0.3348260239, 0.3348260239, 0.3738121471, 0.3738121471, 0.3738121471, 0.3738121471], degree=3))
        make_face()
        with BuildLine():
            add(Edge.make_bspline(
                [(29.6425165985, -23.1394005666), (30.695078554, -21.9629800948), (34.5118402761, -17.5462676023), (39.113443498, -11.1563379342), (43.8137522379, -0.9919652977), (45.2151214525, 6.9659881466), (45.2301769844, 11.3826527926), (45.2532662993, 13.2627830153), (45.2552187391, 13.459405063)],
                knots=[0.203327897, 0.203327897, 0.203327897, 0.203327897, 0.2281911542, 0.2986285287, 0.3688855659, 0.4293299476, 0.4798892229, 0.4858723592, 0.4858723592, 0.4858723592, 0.4858723592], degree=3))
            add(Edge.make_bspline(
                [(38.7053275032, 13.2157966278), (39.7417081915, 13.3252841472), (41.9246505781, 13.4853028178), (44.0536095725, 13.5730190496), (45.2552187391, 13.459405063)],
                knots=[0.7654099046, 0.7654099046, 0.7654099046, 0.7654099046, 0.7976505181, 0.8327016325, 0.8327016325, 0.8327016325, 0.8327016325], degree=3))
            add(Edge.make_bspline(
                [(27.0955348726, -18.0656470238), (27.2271003107, -17.8968925171), (28.9892993407, -15.6311929556), (32.7097877805, -10.8079932605), (36.6654875929, -2.2211013012), (38.8953394156, 4.267244726), (39.3545561457, 11.0505753424), (38.9438890093, 12.3610238993), (38.7337380063, 13.1138973586), (38.7053275032, 13.2157966267)],
                knots=[0.2665494405, 0.2665494405, 0.2665494405, 0.2665494405, 0.2716140402, 0.334050428, 0.3995475458, 0.4572153958, 0.5111151521, 0.5404939261, 0.5449079402, 0.5449079402, 0.5449079402, 0.5449079402], degree=3))
            add(Edge.make_bspline(
                [(29.6425165985, -23.1394005666), (28.7073240523, -21.5156603369), (27.8534269314, -19.7771956323), (27.0955348726, -18.0656470238)],
                knots=[0.3348260239, 0.3348260239, 0.3348260239, 0.3348260239, 0.3738121471, 0.3738121471, 0.3738121471, 0.3738121471], degree=3))
        make_face()
        with BuildLine():
            add(Edge.make_bspline(
                [(38.7053275032, 13.2157966267), (38.4946319218, 13.9714934002), (37.9178058444, 16.0540635348), (36.6021811152, 18.3578018013), (35.4983497801, 19.9328942374), (34.9971058901, 20.5372978079)],
                knots=[0.5449079402, 0.5449079402, 0.5449079402, 0.5449079402, 0.5776427802, 0.616560433, 0.6414214536, 0.6414214536, 0.6414214536, 0.6414214536], degree=3))
            add(Edge.make_bspline(
                [(22.9483827949, -22.8678137803), (21.2835262259, -19.8032519124), (18.4394741592, -13.3121467336), (17.1835588105, -5.4561742057), (17.2555395343, 0.360328207), (17.23977072, 4.5695494202), (18.8069076982, 9.0410185189), (21.9498443358, 13.5017946224), (27.0176610029, 17.7411417707), (31.2831331926, 19.6247126252), (33.8800812635, 20.3438453856), (34.9971058876, 20.537297793)],
                knots=[0.3014251536, 0.3014251536, 0.3014251536, 0.3014251536, 0.3688855659, 0.4293299476, 0.4798892229, 0.5229615868, 0.5682287059, 0.6179848179, 0.6723907892, 0.7202640622, 0.7529996138, 0.7529996138, 0.7529996138, 0.7529996138], degree=3))
            add(Edge.make_bspline(
                [(22.9483827949, -22.8678137803), (23.1079048633, -22.716929712), (24.4624482836, -21.4005772986), (25.8289063278, -19.6903083212), (27.0955348726, -18.0656470238)],
                knots=[0.2113108017, 0.2113108017, 0.2113108017, 0.2113108017, 0.2177906886, 0.2665494405, 0.2665494405, 0.2665494405, 0.2665494405], degree=3))
            add(Edge.make_bspline(
                [(27.0955348726, -18.0656470238), (26.5952375177, -16.9358248657), (25.1094520486, -13.3123092943), (23.4599600639, -8.2543250864), (23.1078602111, -1.4645916637), (23.7001585449, 0.3259104961), (24.5615753533, 3.411199478), (26.2285843214, 6.2261151728), (28.6818950866, 9.451388655), (33.2048392198, 12.3342994021), (36.4945745461, 12.9598383401), (38.3160688043, 13.1746737375), (38.7053275032, 13.2157966278)],
                knots=[0.3738121471, 0.3738121471, 0.3738121471, 0.3738121471, 0.3995475458, 0.4572153958, 0.5111151521, 0.5404939261, 0.5776427802, 0.616560433, 0.6595104131, 0.7085494581, 0.7533005133, 0.7654099046, 0.7654099046, 0.7654099046, 0.7654099046], degree=3))
        make_face()
        with BuildLine():
            add(Edge.make_bspline(
                [(44.2296044745, 20.0039827228), (44.0593449404, 20.4352706034), (43.1681275325, 22.4450737296), (40.7486386671, 25.9968207959), (35.7483618234, 30.3156240444), (31.0868939355, 32.4626059915), (26.3927871471, 33.7141365749), (20.4092231586, 33.4889923759), (14.8359683465, 31.8026844666), (9.8651138126, 29.9947341605), (5.9601852841, 26.0230173917), (4.8038102551, 24.7992252965), (4.349894356, 24.3188459426)],
                knots=[0.5547066737, 0.5547066737, 0.5547066737, 0.5547066737, 0.5682287059, 0.6179848179, 0.6723907892, 0.7202640622, 0.7665882394, 0.8182138704, 0.8694565801, 0.9187122678, 0.9680918447, 1, 1, 1, 1], degree=3))
            Line((4.349894356, 24.3188459426), (4.3083720002, 19.0574379554))
            add(Edge.make_bspline(
                [(34.9971058901, 20.5372978079), (34.6323992041, 20.9770638132), (33.1395481668, 22.5902314347), (29.476619358, 25.007105877), (25.1987521712, 25.8907138795), (20.8125377216, 26.3065976974), (16.2963017525, 26.5404853078), (10.3817836154, 24.494621396), (7.3777316958, 21.8548023636), (5.9778544139, 20.5644047864), (4.8813370701, 19.5746278034), (4.3083720002, 19.0574379554)],
                knots=[0.6414214536, 0.6414214536, 0.6414214536, 0.6414214536, 0.6595104131, 0.7085494581, 0.7533005133, 0.7976505181, 0.8433452284, 0.8967229546, 0.9389928273, 0.9681218184, 1, 1, 1, 1], degree=3))
            add(Edge.make_bspline(
                [(34.9971058876, 20.537297793), (35.4607861548, 20.6176004668), (37.7376678445, 20.9214583998), (41.0262261034, 20.7457060916), (43.6051898763, 20.1652375999), (44.2296044758, 20.0039827247)],
                knots=[0.7529996138, 0.7529996138, 0.7529996138, 0.7529996138, 0.7665882394, 0.8182138704, 0.835054559, 0.835054559, 0.835054559, 0.835054559], degree=3))
        make_face()
        with BuildLine():
            add(Edge.make_bspline(
                [(45.2552187391, 13.459405063), (45.2673218368, 14.6782574348), (45.2547817637, 16.7743630859), (44.6293153805, 18.9914669168), (44.2296044745, 20.0039827228)],
                knots=[0.4858723592, 0.4858723592, 0.4858723592, 0.4858723592, 0.5229615868, 0.5547066737, 0.5547066737, 0.5547066737, 0.5547066737], degree=3))
            add(Edge.make_bspline(
                [(34.9971058876, 20.537297793), (35.4607861548, 20.6176004668), (37.7376678445, 20.9214583998), (41.0262261034, 20.7457060916), (43.6051898763, 20.1652375999), (44.2296044758, 20.0039827247)],
                knots=[0.7529996138, 0.7529996138, 0.7529996138, 0.7529996138, 0.7665882394, 0.8182138704, 0.835054559, 0.835054559, 0.835054559, 0.835054559], degree=3))
            add(Edge.make_bspline(
                [(38.7053275032, 13.2157966267), (38.4946319218, 13.9714934002), (37.9178058444, 16.0540635348), (36.6021811152, 18.3578018013), (35.4983497801, 19.9328942374), (34.9971058901, 20.5372978079)],
                knots=[0.5449079402, 0.5449079402, 0.5449079402, 0.5449079402, 0.5776427802, 0.616560433, 0.6414214536, 0.6414214536, 0.6414214536, 0.6414214536], degree=3))
            add(Edge.make_bspline(
                [(38.7053275032, 13.2157966278), (39.7417081915, 13.3252841472), (41.9246505781, 13.4853028178), (44.0536095725, 13.5730190496), (45.2552187391, 13.459405063)],
                knots=[0.7654099046, 0.7654099046, 0.7654099046, 0.7654099046, 0.7976505181, 0.8327016325, 0.8327016325, 0.8327016325, 0.8327016325], degree=3))
        make_face()
    extrude(amount=F1_DEPTH)


solid = f1.part
